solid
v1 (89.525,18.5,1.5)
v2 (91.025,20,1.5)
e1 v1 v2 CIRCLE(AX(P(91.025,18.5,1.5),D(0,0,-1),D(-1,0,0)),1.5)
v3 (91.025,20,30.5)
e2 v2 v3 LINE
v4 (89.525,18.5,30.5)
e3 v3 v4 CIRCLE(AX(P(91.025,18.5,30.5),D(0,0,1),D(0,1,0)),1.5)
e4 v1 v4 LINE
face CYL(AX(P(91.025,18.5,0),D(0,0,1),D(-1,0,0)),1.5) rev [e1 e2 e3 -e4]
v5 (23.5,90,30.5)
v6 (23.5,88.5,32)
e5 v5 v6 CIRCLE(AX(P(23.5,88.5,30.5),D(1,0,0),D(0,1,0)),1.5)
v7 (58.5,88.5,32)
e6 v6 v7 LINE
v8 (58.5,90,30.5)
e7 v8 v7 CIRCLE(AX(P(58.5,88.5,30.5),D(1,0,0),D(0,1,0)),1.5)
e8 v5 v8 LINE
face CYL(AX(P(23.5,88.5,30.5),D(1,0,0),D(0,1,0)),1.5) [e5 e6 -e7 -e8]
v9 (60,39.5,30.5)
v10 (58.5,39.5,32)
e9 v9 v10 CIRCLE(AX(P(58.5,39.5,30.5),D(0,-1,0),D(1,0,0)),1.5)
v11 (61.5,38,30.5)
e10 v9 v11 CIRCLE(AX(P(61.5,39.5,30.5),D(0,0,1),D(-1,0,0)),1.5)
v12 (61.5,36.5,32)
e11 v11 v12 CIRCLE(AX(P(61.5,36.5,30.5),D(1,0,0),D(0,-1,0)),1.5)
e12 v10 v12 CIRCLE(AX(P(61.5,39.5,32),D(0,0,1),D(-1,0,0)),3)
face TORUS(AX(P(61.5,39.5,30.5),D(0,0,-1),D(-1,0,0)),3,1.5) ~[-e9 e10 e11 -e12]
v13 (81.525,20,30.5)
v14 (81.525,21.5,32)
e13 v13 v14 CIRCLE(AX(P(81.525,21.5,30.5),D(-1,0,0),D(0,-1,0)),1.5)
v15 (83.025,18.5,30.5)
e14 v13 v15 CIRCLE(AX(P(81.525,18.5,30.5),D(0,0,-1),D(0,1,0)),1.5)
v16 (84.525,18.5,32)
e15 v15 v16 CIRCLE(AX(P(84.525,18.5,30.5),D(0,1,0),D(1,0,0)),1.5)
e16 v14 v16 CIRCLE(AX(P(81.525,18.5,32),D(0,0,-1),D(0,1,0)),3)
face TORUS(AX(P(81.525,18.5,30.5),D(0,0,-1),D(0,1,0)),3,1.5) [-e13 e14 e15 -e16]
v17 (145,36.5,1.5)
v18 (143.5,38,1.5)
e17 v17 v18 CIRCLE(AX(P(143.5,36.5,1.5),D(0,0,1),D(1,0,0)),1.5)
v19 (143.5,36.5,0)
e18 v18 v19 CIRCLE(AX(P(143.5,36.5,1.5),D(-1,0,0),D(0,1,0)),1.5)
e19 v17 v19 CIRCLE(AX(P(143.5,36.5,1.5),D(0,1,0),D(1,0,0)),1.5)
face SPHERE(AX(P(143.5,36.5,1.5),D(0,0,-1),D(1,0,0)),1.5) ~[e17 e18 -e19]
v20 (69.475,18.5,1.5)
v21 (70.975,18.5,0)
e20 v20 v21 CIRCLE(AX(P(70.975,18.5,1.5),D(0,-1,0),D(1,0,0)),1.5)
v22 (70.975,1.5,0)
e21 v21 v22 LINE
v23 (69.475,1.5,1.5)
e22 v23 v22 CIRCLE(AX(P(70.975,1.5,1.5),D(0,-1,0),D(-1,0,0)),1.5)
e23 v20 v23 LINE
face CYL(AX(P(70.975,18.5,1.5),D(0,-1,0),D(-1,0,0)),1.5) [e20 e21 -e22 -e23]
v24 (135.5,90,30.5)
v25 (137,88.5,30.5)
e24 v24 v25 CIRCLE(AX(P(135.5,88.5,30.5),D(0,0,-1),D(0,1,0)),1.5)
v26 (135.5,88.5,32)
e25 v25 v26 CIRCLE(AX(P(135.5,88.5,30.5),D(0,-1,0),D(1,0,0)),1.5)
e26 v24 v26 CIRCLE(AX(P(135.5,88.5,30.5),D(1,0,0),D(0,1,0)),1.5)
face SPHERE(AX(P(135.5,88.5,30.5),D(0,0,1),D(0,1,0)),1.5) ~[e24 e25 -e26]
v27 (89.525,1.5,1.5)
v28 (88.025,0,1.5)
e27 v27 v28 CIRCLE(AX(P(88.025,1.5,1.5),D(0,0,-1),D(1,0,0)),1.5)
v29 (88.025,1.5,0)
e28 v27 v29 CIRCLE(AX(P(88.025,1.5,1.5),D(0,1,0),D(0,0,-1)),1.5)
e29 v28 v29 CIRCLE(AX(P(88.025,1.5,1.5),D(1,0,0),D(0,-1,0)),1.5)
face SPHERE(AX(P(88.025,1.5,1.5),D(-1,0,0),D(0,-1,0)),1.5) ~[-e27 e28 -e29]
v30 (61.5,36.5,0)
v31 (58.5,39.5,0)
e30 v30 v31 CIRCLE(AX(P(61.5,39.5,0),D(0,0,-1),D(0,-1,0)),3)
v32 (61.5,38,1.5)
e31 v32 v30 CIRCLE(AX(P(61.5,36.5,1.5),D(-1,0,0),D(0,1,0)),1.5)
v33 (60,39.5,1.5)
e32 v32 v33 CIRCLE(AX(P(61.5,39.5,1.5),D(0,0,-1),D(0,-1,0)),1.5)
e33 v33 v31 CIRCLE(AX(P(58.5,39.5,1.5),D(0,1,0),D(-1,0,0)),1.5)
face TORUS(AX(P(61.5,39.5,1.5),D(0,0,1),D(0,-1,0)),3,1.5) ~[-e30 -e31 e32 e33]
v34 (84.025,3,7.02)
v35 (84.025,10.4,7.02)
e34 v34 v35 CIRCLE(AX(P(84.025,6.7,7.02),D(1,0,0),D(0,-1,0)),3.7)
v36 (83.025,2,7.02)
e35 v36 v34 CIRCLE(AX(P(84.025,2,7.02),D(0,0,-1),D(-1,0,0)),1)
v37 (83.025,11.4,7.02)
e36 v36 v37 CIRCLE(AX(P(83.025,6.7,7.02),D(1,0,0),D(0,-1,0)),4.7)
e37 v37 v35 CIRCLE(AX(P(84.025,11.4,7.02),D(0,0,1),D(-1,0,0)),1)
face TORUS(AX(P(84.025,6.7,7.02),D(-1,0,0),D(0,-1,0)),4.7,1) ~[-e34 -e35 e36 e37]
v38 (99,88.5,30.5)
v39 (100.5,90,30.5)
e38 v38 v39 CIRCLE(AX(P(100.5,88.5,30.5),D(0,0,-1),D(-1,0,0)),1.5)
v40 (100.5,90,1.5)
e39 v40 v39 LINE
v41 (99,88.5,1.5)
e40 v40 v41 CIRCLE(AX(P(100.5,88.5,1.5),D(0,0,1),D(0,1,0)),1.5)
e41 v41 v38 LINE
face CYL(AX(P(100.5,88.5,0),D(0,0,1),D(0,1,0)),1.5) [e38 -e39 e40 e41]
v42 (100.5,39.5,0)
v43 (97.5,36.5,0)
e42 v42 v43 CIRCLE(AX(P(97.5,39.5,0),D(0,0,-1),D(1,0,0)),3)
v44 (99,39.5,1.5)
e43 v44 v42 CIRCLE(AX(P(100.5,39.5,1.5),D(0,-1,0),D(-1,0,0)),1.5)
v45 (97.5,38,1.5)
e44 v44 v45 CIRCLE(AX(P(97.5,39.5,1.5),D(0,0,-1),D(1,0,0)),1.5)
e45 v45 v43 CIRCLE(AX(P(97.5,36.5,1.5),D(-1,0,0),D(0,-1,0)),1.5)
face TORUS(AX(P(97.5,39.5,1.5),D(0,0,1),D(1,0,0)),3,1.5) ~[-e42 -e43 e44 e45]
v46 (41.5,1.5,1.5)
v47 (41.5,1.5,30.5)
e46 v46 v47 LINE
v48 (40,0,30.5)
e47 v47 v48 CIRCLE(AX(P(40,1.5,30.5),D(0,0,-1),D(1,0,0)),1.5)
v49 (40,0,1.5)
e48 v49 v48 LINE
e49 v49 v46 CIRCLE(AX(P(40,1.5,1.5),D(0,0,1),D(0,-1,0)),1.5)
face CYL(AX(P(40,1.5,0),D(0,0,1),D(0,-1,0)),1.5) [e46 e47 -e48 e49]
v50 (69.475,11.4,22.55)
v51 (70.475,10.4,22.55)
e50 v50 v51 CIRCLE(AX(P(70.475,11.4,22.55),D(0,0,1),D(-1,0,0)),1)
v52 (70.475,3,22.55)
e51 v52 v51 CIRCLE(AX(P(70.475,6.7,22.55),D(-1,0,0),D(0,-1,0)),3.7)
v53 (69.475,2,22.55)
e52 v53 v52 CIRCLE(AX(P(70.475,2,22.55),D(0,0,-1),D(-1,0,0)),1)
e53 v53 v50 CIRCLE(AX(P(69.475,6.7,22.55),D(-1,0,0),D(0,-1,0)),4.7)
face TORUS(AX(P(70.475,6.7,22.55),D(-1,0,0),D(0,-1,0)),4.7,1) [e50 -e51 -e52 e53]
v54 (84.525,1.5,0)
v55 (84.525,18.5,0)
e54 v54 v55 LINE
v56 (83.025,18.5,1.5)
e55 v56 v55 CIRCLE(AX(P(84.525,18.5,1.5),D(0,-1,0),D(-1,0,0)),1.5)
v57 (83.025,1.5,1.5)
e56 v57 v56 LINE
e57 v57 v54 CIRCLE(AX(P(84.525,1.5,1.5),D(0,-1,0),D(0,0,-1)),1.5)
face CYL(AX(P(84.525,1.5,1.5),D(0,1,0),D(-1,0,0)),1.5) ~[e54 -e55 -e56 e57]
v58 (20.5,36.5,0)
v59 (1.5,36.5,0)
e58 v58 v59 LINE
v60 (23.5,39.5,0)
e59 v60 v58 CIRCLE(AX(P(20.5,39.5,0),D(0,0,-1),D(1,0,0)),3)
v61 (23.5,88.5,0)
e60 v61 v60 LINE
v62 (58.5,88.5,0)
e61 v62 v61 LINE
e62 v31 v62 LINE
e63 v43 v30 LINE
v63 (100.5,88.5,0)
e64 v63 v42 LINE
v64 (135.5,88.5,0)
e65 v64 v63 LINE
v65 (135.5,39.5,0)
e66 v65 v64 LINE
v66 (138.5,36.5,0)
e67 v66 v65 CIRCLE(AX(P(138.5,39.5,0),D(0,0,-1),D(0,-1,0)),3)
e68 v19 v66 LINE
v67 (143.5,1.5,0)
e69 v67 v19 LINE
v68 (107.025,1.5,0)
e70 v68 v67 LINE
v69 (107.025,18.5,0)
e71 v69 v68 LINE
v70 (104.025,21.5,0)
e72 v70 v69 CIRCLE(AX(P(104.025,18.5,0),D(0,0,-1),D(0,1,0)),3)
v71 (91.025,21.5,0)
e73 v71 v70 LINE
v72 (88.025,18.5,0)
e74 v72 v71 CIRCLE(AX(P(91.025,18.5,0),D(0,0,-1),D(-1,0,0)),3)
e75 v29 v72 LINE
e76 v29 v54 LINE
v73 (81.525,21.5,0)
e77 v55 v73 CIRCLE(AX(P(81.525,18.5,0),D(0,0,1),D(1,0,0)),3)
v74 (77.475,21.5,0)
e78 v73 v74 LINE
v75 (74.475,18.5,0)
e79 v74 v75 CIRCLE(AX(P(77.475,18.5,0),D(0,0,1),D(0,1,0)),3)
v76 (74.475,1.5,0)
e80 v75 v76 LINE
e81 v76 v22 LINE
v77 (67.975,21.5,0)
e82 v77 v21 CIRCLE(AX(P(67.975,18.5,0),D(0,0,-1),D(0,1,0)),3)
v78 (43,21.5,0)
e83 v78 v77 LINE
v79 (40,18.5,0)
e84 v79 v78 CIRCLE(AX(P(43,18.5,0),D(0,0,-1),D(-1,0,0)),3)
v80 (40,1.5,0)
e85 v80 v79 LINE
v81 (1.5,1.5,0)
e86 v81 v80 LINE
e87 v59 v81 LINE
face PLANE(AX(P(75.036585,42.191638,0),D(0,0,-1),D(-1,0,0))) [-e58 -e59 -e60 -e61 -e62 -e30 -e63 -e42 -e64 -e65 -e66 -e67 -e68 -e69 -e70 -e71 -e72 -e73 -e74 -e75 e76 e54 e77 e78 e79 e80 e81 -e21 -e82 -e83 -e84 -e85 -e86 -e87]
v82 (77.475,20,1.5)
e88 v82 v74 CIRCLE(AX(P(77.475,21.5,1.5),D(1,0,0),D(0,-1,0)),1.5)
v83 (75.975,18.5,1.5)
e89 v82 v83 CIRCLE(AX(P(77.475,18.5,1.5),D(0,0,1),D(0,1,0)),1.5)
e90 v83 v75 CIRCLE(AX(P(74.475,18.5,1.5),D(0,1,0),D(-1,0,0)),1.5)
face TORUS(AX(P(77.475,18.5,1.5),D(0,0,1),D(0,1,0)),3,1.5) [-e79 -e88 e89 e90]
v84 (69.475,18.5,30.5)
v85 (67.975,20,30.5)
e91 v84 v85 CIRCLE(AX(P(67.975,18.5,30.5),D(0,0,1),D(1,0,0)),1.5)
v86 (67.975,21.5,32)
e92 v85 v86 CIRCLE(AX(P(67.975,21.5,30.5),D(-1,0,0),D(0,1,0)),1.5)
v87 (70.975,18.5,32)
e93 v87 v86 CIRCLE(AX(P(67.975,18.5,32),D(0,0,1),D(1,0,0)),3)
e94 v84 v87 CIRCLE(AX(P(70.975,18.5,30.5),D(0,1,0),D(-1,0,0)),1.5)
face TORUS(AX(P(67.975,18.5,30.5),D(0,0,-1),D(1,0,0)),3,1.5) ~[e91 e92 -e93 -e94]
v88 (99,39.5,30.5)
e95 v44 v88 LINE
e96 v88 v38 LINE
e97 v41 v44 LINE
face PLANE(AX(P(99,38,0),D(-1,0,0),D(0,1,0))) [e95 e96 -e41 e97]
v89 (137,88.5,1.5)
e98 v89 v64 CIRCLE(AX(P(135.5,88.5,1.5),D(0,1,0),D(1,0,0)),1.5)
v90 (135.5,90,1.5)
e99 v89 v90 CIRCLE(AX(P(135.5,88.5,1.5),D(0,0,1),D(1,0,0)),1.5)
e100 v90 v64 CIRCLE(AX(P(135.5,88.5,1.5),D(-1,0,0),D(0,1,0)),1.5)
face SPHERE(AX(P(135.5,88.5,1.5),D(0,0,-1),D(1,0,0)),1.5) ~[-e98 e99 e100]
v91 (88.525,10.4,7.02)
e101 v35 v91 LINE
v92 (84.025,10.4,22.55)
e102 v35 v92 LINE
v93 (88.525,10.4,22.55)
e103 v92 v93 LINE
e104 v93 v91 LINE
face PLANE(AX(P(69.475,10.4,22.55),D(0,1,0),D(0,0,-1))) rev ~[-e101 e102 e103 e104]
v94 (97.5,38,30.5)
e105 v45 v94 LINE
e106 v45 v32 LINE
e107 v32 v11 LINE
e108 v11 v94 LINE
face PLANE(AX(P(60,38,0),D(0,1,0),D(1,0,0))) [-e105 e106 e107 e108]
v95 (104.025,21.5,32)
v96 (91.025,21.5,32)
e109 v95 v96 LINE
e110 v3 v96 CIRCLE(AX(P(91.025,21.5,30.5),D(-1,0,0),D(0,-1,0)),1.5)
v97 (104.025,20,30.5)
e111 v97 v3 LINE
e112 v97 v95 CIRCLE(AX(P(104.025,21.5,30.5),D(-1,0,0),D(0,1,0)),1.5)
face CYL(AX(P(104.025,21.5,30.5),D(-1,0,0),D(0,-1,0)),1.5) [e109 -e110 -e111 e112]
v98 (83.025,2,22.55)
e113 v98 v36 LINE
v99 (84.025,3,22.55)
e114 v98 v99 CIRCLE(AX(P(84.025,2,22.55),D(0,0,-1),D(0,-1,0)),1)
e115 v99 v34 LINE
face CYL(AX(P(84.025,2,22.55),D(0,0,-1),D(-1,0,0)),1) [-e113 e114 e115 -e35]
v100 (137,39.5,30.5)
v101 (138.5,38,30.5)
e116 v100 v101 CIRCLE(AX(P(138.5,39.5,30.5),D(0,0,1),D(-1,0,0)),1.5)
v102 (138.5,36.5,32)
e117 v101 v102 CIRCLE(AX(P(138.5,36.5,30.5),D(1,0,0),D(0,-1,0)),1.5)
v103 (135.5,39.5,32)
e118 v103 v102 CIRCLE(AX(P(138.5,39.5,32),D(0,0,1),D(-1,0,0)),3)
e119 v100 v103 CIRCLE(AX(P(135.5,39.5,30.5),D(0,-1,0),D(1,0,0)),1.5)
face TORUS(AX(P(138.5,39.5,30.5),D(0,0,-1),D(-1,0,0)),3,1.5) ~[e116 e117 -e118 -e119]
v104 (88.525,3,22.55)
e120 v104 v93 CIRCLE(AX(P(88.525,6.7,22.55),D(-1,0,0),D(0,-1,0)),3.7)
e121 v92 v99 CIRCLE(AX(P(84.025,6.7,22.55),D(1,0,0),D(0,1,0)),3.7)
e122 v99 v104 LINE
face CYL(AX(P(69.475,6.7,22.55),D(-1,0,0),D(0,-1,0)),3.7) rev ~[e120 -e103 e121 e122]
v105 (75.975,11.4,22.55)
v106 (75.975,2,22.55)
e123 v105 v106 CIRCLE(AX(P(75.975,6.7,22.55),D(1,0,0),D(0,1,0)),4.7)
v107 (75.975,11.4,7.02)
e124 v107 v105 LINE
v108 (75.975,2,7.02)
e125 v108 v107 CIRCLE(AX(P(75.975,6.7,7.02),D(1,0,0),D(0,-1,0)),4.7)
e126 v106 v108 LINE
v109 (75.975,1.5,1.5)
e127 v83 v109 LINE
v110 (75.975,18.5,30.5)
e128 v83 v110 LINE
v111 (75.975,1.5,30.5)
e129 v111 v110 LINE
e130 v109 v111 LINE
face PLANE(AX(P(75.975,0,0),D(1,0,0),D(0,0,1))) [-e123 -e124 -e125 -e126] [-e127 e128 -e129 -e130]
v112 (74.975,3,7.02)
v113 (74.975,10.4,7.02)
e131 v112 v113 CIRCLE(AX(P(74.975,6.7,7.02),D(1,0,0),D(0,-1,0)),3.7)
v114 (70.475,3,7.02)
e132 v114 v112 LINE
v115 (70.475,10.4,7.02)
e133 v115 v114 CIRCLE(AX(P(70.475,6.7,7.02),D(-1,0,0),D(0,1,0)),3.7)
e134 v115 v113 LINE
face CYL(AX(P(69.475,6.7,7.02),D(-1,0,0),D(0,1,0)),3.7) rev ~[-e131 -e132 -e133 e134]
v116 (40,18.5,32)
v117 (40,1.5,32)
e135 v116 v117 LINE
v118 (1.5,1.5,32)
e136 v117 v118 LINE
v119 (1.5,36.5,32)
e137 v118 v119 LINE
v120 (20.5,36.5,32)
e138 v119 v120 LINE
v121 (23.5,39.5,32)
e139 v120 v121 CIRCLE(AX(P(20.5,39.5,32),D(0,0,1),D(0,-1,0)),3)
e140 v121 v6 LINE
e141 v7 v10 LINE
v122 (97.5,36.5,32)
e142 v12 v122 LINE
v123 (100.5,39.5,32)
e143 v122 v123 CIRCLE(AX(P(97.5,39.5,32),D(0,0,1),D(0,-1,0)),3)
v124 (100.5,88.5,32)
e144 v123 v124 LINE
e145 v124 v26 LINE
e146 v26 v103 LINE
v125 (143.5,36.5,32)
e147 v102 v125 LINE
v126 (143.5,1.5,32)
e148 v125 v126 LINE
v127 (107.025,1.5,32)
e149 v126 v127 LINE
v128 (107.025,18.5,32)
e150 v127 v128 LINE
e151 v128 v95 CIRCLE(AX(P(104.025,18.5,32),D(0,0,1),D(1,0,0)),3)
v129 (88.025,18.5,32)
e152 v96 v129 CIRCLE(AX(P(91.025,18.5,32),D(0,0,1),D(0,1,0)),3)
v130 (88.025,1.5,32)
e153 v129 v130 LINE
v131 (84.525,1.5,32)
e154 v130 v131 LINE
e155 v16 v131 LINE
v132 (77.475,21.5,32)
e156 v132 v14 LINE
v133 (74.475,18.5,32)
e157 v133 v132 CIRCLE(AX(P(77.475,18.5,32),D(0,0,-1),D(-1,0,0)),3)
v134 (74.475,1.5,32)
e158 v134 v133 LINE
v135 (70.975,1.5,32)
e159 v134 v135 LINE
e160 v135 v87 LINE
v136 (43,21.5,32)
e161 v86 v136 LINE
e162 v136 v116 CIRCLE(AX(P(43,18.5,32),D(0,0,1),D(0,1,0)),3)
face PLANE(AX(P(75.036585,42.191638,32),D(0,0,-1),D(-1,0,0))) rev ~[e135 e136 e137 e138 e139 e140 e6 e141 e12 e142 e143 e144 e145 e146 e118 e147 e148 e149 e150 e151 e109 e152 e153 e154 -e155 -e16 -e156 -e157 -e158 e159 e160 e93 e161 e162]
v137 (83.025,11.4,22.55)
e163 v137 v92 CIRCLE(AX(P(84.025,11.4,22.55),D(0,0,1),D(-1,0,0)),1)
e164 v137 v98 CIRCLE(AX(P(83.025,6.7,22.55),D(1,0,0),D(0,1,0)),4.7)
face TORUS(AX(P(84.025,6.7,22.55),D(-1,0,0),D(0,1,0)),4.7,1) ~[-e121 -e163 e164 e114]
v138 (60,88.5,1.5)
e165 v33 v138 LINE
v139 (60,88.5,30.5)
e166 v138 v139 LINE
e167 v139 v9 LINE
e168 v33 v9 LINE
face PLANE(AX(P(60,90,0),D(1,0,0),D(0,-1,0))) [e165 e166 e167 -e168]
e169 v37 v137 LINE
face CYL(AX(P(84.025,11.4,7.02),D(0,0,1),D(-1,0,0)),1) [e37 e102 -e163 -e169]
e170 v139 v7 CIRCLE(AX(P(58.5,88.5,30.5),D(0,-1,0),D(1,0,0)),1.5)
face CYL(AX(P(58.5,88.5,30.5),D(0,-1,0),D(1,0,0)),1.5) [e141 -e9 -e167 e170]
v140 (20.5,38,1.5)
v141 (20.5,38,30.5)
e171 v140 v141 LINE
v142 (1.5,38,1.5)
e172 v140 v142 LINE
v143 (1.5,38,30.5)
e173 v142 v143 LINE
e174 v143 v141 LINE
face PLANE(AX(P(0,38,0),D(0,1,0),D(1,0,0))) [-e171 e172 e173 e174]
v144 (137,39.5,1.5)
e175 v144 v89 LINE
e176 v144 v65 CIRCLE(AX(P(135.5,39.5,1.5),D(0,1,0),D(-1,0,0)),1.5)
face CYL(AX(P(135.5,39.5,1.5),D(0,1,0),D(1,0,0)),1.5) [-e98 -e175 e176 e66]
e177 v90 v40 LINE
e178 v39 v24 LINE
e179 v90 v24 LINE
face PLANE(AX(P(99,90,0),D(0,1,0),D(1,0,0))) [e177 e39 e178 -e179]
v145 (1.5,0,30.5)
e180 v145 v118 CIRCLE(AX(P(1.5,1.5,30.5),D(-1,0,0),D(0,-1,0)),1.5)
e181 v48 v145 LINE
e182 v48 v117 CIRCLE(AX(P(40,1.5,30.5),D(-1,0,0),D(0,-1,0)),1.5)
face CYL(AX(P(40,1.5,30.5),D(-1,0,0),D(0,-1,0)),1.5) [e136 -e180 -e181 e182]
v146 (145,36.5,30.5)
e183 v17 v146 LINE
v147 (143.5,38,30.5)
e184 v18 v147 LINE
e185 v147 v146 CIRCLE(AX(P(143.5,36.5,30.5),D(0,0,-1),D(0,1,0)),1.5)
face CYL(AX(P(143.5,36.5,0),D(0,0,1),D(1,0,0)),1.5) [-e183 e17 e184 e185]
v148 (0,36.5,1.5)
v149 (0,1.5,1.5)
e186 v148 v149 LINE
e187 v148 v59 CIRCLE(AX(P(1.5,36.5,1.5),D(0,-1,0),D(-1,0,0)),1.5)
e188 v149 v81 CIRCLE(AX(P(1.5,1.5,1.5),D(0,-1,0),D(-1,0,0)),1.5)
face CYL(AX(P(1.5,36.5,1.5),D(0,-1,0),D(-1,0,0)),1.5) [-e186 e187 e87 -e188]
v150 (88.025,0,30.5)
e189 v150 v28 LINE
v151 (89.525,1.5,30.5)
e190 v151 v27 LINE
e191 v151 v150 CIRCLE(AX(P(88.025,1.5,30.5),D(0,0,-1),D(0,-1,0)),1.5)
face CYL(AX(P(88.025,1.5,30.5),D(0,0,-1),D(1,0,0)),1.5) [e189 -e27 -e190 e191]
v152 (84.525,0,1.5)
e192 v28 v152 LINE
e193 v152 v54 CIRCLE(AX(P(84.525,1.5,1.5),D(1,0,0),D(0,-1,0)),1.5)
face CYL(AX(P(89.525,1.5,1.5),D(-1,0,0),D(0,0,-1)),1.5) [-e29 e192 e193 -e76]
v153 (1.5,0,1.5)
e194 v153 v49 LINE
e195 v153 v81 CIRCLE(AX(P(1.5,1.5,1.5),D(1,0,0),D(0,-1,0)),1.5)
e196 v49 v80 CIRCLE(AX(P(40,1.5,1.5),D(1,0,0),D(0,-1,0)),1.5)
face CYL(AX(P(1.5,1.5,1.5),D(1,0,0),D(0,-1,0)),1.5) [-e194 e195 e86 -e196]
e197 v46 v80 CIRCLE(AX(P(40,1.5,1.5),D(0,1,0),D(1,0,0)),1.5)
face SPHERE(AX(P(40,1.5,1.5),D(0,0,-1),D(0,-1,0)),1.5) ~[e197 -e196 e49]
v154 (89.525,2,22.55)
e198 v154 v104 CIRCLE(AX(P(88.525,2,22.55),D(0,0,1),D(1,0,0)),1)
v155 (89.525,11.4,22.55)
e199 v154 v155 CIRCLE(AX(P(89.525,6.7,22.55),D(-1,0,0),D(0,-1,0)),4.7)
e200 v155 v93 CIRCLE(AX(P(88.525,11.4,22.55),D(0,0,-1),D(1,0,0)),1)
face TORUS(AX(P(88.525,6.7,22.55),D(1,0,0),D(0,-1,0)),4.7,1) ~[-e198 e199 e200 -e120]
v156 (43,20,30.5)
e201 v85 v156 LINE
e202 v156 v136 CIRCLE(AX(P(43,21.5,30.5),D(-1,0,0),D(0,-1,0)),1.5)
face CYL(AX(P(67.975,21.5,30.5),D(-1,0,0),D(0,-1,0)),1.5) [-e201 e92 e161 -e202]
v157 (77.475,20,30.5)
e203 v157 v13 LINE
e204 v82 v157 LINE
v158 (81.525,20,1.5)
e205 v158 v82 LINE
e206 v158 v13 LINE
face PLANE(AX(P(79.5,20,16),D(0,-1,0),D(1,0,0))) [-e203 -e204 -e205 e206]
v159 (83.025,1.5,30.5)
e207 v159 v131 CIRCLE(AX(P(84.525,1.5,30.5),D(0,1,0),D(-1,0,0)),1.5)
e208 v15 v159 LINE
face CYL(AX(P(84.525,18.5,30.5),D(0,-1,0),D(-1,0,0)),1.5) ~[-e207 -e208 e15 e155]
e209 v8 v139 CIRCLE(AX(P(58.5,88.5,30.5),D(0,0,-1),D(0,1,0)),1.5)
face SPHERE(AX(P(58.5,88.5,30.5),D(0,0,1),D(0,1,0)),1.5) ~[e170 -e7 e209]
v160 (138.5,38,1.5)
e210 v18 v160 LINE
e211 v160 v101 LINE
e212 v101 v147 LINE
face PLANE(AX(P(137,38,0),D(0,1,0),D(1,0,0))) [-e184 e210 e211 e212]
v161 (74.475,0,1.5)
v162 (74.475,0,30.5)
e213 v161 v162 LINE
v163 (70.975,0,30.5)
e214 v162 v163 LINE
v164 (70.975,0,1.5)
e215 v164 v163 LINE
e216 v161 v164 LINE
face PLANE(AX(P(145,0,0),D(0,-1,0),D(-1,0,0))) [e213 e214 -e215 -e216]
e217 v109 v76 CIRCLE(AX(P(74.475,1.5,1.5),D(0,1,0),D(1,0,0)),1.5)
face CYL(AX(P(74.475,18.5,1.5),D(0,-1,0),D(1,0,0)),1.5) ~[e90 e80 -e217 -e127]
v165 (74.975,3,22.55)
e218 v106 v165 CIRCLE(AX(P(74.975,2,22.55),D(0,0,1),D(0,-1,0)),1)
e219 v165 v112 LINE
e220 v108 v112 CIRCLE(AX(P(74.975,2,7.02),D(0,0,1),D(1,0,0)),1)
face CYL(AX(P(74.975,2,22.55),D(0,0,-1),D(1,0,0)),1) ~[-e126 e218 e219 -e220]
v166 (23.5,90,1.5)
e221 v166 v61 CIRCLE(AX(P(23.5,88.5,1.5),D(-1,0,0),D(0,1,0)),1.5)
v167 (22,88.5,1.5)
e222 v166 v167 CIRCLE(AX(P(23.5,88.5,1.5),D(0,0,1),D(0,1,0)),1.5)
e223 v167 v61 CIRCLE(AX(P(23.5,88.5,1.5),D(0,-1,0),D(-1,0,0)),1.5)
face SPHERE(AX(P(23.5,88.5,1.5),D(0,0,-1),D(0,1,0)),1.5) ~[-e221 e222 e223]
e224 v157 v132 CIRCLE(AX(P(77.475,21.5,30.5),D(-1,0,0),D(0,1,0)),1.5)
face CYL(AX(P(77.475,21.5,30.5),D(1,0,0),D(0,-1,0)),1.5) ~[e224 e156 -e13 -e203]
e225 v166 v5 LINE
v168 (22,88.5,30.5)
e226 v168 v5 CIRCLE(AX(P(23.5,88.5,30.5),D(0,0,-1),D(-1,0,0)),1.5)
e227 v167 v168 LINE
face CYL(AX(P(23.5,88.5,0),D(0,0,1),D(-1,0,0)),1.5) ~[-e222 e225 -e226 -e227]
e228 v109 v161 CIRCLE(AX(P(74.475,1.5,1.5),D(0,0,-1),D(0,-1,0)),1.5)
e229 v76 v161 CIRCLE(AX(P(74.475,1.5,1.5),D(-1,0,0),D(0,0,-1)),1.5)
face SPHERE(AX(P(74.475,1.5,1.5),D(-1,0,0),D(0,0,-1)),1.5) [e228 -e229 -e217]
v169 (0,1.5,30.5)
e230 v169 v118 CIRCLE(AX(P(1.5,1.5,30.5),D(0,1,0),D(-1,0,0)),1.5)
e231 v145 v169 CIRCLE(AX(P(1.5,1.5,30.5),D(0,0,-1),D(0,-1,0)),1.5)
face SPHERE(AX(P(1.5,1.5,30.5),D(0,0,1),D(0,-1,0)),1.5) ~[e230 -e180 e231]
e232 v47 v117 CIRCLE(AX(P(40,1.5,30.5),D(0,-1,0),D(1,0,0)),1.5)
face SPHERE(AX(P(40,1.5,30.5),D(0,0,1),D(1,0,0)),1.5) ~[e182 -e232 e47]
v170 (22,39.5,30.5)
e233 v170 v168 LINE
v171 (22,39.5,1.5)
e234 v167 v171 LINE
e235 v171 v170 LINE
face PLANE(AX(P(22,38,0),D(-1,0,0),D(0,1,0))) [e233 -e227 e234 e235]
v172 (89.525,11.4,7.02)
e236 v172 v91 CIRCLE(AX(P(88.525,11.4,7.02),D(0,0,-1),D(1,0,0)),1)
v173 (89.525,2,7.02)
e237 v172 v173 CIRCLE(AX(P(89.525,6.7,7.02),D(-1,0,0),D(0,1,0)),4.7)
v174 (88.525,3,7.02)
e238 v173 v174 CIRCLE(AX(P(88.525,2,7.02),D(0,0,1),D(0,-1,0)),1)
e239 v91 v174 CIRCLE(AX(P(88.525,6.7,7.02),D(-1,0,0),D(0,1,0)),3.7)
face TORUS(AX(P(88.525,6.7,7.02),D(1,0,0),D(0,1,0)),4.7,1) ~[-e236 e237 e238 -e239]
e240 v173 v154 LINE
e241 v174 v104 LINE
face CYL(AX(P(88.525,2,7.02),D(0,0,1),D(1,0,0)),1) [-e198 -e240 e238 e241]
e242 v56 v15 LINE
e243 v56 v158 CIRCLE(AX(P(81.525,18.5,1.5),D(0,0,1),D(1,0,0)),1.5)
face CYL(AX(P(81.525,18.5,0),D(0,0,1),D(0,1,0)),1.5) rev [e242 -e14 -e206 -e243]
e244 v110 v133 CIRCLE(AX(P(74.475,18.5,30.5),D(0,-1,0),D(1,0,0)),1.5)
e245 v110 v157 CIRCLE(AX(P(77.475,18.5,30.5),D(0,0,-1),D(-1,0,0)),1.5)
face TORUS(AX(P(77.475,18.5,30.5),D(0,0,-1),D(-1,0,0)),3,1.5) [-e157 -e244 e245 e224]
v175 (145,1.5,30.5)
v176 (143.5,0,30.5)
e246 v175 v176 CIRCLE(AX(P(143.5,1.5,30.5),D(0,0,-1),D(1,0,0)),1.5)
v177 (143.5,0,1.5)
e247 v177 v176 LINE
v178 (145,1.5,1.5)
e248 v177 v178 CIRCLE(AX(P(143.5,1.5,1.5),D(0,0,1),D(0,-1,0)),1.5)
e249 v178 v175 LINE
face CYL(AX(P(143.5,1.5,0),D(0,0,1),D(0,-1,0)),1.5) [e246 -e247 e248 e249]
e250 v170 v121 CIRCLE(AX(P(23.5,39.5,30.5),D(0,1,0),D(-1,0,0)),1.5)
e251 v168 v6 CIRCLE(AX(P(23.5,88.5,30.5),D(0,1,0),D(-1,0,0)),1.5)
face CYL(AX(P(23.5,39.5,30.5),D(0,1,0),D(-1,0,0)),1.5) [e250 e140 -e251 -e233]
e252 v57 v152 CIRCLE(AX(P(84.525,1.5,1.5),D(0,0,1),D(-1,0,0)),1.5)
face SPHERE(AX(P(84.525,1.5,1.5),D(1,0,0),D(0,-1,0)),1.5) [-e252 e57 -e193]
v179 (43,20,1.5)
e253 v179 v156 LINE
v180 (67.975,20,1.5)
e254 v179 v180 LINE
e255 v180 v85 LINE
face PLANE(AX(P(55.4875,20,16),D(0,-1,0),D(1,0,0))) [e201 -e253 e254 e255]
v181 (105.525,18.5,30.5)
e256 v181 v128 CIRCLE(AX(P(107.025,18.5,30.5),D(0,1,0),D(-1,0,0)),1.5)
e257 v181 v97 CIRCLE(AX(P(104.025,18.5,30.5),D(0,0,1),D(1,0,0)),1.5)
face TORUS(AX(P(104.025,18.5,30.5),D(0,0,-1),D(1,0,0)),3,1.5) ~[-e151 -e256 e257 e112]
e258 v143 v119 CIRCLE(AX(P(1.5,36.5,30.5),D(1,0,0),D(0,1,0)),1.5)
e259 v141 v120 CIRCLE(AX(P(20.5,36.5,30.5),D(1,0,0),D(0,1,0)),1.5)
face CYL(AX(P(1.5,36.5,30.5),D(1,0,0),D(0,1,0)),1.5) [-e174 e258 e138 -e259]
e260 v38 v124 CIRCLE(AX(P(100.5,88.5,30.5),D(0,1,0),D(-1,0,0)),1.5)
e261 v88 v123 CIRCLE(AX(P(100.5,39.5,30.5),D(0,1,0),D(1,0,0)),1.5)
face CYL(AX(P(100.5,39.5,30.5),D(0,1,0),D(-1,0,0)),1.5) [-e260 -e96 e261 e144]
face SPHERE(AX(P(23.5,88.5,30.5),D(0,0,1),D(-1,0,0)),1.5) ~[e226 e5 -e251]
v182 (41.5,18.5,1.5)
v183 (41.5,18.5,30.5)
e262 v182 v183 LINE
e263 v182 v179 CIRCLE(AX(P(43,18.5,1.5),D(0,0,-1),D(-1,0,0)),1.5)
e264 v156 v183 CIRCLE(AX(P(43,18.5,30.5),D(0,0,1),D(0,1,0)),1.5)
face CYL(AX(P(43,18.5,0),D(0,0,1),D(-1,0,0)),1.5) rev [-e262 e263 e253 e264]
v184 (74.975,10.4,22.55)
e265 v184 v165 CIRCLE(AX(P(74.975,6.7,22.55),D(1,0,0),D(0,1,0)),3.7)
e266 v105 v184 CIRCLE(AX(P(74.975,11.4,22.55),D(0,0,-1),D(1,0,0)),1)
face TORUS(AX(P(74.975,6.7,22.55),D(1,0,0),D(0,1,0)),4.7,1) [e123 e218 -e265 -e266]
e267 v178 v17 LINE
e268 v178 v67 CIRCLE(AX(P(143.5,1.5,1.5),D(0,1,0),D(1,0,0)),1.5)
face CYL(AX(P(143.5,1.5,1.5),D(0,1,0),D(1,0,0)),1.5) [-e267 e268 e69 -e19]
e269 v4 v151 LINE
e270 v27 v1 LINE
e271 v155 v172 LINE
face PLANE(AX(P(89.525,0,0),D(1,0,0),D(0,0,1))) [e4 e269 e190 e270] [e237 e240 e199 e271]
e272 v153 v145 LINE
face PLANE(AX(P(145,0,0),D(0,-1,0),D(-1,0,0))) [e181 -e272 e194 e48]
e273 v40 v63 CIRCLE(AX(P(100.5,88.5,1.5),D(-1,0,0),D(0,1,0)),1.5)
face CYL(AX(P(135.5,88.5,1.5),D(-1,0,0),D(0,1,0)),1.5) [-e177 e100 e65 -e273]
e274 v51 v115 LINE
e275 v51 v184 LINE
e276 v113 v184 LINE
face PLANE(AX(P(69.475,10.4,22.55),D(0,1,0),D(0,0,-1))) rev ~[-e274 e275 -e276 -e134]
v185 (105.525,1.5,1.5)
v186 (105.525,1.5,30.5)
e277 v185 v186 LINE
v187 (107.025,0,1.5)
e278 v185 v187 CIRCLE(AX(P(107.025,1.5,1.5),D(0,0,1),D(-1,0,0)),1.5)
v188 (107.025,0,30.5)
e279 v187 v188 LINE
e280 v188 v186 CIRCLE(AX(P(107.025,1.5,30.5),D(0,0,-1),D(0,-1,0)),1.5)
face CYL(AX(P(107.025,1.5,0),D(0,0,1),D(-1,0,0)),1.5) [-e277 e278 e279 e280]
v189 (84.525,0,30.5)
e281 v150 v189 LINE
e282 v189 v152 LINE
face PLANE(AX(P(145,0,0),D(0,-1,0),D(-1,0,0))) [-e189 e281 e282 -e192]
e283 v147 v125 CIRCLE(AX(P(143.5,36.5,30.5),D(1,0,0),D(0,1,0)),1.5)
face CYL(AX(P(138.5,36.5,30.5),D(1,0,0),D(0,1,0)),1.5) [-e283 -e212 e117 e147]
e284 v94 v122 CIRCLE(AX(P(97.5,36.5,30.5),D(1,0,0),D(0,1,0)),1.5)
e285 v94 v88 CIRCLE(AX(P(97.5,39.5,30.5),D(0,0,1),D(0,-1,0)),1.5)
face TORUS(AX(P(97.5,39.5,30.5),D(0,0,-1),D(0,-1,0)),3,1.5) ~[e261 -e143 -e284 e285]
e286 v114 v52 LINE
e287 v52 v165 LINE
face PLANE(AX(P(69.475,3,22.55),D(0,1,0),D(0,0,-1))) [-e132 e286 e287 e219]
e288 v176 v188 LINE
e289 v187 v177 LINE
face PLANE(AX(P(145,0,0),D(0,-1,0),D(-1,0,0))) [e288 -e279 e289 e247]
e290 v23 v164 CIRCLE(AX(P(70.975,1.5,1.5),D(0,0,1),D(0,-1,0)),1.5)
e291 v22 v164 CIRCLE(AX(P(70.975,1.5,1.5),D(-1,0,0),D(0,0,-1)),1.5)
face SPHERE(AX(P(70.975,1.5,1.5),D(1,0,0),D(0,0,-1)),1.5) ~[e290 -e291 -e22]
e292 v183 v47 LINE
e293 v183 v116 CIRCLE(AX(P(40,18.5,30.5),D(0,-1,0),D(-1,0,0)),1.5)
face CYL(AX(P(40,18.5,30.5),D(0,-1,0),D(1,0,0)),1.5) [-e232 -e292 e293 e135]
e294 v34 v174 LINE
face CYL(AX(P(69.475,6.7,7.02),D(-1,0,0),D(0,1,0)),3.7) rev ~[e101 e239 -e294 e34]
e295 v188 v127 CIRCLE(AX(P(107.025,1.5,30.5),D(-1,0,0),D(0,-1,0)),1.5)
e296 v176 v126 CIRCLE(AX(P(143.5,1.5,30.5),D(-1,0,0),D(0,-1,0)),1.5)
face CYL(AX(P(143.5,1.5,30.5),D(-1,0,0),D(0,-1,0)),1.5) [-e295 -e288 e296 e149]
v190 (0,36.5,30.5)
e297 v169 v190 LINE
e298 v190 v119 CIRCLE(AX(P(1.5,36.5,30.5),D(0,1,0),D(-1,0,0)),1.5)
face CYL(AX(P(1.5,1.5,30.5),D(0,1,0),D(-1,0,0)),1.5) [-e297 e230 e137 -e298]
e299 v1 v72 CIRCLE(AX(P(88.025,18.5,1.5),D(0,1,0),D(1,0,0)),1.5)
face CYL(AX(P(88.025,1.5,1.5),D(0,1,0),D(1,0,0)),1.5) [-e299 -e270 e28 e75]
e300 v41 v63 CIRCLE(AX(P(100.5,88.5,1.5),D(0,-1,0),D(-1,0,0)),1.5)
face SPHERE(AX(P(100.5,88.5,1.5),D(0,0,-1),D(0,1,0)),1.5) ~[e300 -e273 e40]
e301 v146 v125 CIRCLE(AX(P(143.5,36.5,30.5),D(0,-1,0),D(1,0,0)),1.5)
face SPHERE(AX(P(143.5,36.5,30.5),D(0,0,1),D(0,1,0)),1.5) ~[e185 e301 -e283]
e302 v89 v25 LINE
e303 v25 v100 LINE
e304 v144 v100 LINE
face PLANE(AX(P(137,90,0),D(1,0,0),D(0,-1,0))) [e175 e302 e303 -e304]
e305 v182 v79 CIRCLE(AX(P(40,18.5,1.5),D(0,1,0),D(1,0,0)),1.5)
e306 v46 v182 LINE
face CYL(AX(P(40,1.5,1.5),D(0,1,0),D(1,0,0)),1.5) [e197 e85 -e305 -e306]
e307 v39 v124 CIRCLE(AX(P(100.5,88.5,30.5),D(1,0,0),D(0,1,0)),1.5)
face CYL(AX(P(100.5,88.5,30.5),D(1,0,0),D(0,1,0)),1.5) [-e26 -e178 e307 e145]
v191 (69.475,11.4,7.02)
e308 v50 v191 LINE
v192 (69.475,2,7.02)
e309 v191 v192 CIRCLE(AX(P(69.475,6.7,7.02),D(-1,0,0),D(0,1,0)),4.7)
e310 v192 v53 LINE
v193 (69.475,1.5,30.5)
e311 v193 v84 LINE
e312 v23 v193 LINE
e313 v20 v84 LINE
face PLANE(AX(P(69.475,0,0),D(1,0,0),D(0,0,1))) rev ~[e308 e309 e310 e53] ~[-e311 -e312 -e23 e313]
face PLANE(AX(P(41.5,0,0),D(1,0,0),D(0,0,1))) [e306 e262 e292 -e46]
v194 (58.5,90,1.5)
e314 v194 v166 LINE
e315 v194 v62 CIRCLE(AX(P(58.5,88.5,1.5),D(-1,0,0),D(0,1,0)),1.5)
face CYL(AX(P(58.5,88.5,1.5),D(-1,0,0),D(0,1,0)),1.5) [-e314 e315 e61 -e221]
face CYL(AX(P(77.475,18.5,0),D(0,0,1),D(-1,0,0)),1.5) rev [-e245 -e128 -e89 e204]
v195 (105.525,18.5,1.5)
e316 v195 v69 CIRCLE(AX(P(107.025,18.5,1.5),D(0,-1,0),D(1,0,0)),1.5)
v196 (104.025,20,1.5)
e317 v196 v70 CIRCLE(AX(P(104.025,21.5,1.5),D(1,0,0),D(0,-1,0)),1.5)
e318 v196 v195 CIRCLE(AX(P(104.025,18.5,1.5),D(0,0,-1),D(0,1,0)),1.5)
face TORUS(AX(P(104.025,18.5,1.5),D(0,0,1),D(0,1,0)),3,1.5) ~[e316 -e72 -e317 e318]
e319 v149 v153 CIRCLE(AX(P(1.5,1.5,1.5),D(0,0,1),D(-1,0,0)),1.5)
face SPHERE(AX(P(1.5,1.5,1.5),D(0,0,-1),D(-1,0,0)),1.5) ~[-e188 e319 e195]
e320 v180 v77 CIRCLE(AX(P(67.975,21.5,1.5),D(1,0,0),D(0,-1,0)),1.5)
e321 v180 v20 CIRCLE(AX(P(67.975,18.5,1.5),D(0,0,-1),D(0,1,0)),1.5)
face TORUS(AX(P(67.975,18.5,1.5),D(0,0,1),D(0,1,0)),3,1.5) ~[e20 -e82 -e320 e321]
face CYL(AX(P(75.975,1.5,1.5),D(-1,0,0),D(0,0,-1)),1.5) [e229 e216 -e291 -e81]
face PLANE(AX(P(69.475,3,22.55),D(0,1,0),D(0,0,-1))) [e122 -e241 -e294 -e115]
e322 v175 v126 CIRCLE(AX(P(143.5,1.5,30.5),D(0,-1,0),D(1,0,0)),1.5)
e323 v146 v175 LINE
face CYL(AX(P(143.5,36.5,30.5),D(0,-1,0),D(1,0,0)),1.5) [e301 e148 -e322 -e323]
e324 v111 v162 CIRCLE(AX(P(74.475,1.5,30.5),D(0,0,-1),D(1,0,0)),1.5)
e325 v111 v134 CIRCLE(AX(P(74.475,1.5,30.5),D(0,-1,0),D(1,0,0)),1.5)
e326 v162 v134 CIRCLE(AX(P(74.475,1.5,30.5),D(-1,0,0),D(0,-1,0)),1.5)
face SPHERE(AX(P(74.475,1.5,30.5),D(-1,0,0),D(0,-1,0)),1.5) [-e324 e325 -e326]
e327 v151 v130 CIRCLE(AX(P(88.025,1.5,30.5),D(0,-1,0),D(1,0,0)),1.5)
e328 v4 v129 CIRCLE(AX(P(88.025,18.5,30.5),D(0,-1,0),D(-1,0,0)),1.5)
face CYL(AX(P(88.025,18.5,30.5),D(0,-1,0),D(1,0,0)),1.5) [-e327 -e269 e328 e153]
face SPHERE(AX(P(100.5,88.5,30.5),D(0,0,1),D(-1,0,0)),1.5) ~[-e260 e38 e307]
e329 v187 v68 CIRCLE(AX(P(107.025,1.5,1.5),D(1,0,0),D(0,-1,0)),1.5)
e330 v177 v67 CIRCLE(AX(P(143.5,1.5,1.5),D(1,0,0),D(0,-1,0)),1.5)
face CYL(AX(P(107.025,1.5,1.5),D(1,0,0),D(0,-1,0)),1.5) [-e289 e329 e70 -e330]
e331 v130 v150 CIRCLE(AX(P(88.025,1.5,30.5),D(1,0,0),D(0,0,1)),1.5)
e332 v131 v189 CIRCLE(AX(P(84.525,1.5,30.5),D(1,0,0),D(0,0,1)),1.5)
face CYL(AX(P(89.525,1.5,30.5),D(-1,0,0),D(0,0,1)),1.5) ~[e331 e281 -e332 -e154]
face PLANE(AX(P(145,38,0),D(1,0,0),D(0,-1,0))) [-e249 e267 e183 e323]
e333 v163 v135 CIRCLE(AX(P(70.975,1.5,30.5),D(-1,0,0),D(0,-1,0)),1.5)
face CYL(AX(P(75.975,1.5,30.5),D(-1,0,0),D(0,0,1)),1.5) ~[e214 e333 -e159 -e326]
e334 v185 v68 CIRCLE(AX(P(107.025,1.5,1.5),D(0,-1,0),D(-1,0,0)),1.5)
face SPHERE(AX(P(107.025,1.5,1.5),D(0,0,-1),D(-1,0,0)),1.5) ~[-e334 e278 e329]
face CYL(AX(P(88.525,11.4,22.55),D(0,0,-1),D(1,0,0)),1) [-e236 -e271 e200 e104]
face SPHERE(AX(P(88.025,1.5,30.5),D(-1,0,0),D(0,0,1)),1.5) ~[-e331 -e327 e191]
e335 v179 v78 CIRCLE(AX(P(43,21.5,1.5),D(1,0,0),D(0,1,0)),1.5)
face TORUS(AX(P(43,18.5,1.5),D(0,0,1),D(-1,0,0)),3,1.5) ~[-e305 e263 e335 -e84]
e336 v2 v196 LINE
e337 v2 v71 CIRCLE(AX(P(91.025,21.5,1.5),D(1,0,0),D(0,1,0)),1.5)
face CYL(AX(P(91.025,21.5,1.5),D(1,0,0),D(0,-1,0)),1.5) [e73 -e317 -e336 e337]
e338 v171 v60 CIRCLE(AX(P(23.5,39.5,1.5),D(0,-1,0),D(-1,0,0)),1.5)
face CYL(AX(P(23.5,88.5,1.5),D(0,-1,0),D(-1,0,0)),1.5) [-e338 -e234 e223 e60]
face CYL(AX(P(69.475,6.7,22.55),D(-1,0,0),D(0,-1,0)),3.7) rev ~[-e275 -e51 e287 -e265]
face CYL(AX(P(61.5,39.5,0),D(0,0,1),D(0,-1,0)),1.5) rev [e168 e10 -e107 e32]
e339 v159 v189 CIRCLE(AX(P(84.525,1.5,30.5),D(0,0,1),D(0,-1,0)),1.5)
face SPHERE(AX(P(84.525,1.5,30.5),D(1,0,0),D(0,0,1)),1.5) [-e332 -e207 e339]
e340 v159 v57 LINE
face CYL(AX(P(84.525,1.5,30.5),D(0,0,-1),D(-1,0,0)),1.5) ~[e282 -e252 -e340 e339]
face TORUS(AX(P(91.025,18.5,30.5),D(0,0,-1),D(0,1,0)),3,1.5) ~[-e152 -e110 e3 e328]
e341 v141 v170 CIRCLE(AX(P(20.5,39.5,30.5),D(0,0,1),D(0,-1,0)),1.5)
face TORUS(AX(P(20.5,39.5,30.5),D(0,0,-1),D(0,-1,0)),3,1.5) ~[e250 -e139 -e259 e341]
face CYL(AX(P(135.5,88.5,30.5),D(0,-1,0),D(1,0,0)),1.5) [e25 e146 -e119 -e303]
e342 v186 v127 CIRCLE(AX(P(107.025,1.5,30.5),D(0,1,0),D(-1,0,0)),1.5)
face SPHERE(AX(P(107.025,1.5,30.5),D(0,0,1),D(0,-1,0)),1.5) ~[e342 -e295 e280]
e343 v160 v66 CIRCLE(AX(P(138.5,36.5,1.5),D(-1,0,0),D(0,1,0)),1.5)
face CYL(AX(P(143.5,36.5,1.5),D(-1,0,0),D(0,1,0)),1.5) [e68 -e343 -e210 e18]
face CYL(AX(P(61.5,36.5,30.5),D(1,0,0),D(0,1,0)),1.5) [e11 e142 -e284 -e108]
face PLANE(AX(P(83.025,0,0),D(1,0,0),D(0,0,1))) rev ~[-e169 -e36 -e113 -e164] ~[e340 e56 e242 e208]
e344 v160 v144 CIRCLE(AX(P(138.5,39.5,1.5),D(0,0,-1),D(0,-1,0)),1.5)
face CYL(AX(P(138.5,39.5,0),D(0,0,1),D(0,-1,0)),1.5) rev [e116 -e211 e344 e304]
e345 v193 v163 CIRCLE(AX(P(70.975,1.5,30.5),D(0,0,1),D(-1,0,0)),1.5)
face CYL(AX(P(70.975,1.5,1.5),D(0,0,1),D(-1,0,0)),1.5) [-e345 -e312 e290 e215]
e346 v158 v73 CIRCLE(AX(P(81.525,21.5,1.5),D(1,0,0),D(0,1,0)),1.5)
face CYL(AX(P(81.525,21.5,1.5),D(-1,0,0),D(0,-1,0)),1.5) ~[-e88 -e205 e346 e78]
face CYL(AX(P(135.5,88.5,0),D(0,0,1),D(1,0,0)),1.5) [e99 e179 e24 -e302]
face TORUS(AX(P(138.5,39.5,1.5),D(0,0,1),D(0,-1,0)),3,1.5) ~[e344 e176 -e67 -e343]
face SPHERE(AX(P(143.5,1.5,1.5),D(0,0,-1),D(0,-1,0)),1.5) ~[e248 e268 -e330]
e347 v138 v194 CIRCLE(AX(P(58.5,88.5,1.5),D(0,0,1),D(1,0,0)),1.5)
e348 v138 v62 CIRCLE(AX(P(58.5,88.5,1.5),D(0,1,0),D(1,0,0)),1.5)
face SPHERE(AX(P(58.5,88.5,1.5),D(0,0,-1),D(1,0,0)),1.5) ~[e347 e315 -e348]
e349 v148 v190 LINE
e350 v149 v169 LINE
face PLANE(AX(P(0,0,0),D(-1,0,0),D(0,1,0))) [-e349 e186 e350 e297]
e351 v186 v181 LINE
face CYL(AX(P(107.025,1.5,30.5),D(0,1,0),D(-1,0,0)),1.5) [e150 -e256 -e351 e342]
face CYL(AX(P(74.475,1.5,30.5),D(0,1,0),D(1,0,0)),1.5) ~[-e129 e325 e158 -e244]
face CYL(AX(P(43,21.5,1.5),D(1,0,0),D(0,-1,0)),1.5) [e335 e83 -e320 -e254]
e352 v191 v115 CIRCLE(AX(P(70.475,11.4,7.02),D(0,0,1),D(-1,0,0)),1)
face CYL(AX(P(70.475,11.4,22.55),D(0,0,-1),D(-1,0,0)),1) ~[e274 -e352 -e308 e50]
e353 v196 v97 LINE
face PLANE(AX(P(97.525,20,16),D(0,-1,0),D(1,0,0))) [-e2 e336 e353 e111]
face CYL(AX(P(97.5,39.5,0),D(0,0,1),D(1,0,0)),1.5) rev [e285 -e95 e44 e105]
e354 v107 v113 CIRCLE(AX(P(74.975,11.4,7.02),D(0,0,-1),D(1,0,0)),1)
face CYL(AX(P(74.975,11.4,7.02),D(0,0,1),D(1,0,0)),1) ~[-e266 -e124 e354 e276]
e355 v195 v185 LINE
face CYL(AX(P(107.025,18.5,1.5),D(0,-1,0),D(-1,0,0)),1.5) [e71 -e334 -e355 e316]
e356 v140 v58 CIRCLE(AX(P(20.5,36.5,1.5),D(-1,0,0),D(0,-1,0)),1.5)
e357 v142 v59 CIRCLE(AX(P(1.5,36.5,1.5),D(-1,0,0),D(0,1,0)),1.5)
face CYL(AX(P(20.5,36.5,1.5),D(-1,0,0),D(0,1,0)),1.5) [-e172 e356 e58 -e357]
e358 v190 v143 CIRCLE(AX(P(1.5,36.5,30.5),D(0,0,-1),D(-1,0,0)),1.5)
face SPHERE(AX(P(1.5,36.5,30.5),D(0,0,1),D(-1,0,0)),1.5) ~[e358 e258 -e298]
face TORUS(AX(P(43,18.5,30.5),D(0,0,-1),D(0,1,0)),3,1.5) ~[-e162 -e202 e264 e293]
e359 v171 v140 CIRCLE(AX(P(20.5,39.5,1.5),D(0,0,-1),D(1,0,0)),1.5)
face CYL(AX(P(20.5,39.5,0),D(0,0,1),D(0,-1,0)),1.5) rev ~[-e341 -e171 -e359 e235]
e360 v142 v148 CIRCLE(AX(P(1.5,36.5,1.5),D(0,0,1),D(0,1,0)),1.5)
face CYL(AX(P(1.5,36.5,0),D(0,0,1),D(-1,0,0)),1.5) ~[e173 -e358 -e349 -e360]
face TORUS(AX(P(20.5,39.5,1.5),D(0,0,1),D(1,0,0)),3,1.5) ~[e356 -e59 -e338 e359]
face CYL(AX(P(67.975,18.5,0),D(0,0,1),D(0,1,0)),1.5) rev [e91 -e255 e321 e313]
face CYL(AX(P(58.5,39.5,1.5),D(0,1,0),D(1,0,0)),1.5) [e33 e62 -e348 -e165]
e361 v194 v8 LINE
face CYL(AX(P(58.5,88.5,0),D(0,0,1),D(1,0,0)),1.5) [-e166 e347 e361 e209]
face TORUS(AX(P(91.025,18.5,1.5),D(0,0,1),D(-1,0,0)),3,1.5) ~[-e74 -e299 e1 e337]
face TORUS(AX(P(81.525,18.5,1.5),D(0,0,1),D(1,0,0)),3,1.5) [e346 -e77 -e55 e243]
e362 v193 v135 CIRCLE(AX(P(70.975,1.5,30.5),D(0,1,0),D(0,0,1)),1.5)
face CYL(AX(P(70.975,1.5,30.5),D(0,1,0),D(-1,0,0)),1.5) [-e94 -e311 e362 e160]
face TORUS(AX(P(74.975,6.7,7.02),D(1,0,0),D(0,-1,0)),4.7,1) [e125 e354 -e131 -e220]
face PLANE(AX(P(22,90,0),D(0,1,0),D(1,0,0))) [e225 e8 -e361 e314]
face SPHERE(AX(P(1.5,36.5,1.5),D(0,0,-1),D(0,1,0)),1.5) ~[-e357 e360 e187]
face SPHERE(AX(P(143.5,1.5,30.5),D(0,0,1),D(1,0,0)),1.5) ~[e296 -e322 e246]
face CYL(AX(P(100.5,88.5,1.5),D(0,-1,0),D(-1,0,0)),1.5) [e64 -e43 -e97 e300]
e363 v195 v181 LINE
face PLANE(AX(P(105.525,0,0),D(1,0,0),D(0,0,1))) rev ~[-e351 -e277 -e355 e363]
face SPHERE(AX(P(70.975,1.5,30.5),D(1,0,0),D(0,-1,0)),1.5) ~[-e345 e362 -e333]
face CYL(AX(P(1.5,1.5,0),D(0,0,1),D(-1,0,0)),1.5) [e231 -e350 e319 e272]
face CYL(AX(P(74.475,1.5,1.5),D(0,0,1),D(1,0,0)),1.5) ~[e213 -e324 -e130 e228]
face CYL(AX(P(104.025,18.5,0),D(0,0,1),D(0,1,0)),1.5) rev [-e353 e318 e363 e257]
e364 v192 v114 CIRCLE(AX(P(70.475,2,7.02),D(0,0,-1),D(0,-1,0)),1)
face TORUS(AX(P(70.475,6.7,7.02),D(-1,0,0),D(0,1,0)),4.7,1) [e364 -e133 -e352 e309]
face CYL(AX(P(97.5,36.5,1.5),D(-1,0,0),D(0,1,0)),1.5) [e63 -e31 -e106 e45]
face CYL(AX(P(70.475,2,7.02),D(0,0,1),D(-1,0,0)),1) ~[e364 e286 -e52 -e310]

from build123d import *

# Parameters (mm, degrees)
PAD_DEPTH       = 32
SKETCH001_W     = 7.05
SKETCH001_H     = 32
SKETCH001_W_2   = 27.975
SKETCH001_W_3   = 16
POCKET_DEPTH    = 20
POCKET001_DEPTH = 20.05
FILLET_R        = 1.5
FILLET001_R     = 1.5
FILLET002_R     = 1.5
FILLET003_R     = 1


with BuildPart() as part:
    # Sketch → Pad (new body)
    with BuildSketch(Plane.XY):
        Polygon((0, 0), (0, 38), (22, 38), (22, 90), (60, 90), (60, 38), (99, 38), (99, 90), (137, 90), (137, 38), (145, 38), (145, 0), align=None)
    extrude(amount=PAD_DEPTH)

    # Sketch001 (on Face12 of Pad) → Pocket (cut)
    with BuildSketch(Plane.XZ):
        with Locations((79.5, 16)):
            Rectangle(SKETCH001_W, SKETCH001_H)
        with Locations((55.4875, 16)):
            Rectangle(SKETCH001_W_2, SKETCH001_H)
        with Locations((97.525, 16)):
            Rectangle(SKETCH001_W_3, SKETCH001_H)
    extrude(amount=-POCKET_DEPTH, mode=Mode.SUBTRACT)

    # Sketch002 (on Face25 of Pocket) → Pocket001 (cut)
    with BuildSketch(Plane(origin=(69.475, 0, 0), x_dir=(0, -1, 0), z_dir=(-1, 0, 0))):
        with BuildLine():
            ThreePointArc((-3, 22.55), (-6.7, 26.25), (-10.4, 22.55))
            Line((-10.4, 22.55), (-10.4, 7.02))
            ThreePointArc((-10.4, 7.02), (-6.7, 3.32), (-3, 7.02))
            Line((-3, 22.55), (-3, 7.02))
        make_face()
    extrude(amount=-POCKET001_DEPTH, mode=Mode.SUBTRACT)

    # Fillet
    fillet_edges = [part.edges().sort_by_distance(p)[0] for p in [
        (41.5, 0, 16),
        (41.5, 20, 16),
        (69.475, 20, 16),
        (75.975, 20, 16),
        (83.025, 20, 16),
        (89.525, 20, 16),
        (105.525, 20, 16),
        (105.525, 0, 16),
        (145, 0, 16),
        (145, 38, 16),
        (137, 38, 16),
        (137, 90, 16),
        (99, 90, 16),
        (99, 38, 16),
        (60, 38, 16),
        (60, 90, 16),
        (22, 90, 16),
        (22, 38, 16),
        (0, 38, 16),
        (0, 0, 16),
    ]]
    fillet(fillet_edges, radius=FILLET_R)

    # Fillet001
    fillet001_edges = [part.edges().sort_by_distance(p)[0] for p in [
        (86.275, 0, 32),
        (86.275, 0, 0),
        (72.725, 0, 0),
        (72.725, 0, 32),
    ]]
    fillet(fillet001_edges, radius=FILLET001_R)

    # Fillet002
    fillet002_edges = [part.edges().sort_by_distance(p)[0] for p in [
        (22, 64, 32),
        (20.75, 0, 0),
        (75.975, 10, 32),
    ]]
    fillet(fillet002_edges, radius=FILLET002_R)

    # Fillet003
    fillet003_edges = [part.edges().sort_by_distance(p)[0] for p in [
        (69.475, 10.4, 14.785),
        (75.975, 10.4, 14.785),
        (83.025, 10.4, 14.785),
        (89.525, 10.4, 14.785),
    ]]
    fillet(fillet003_edges, radius=FILLET003_R)


solid = part.part
